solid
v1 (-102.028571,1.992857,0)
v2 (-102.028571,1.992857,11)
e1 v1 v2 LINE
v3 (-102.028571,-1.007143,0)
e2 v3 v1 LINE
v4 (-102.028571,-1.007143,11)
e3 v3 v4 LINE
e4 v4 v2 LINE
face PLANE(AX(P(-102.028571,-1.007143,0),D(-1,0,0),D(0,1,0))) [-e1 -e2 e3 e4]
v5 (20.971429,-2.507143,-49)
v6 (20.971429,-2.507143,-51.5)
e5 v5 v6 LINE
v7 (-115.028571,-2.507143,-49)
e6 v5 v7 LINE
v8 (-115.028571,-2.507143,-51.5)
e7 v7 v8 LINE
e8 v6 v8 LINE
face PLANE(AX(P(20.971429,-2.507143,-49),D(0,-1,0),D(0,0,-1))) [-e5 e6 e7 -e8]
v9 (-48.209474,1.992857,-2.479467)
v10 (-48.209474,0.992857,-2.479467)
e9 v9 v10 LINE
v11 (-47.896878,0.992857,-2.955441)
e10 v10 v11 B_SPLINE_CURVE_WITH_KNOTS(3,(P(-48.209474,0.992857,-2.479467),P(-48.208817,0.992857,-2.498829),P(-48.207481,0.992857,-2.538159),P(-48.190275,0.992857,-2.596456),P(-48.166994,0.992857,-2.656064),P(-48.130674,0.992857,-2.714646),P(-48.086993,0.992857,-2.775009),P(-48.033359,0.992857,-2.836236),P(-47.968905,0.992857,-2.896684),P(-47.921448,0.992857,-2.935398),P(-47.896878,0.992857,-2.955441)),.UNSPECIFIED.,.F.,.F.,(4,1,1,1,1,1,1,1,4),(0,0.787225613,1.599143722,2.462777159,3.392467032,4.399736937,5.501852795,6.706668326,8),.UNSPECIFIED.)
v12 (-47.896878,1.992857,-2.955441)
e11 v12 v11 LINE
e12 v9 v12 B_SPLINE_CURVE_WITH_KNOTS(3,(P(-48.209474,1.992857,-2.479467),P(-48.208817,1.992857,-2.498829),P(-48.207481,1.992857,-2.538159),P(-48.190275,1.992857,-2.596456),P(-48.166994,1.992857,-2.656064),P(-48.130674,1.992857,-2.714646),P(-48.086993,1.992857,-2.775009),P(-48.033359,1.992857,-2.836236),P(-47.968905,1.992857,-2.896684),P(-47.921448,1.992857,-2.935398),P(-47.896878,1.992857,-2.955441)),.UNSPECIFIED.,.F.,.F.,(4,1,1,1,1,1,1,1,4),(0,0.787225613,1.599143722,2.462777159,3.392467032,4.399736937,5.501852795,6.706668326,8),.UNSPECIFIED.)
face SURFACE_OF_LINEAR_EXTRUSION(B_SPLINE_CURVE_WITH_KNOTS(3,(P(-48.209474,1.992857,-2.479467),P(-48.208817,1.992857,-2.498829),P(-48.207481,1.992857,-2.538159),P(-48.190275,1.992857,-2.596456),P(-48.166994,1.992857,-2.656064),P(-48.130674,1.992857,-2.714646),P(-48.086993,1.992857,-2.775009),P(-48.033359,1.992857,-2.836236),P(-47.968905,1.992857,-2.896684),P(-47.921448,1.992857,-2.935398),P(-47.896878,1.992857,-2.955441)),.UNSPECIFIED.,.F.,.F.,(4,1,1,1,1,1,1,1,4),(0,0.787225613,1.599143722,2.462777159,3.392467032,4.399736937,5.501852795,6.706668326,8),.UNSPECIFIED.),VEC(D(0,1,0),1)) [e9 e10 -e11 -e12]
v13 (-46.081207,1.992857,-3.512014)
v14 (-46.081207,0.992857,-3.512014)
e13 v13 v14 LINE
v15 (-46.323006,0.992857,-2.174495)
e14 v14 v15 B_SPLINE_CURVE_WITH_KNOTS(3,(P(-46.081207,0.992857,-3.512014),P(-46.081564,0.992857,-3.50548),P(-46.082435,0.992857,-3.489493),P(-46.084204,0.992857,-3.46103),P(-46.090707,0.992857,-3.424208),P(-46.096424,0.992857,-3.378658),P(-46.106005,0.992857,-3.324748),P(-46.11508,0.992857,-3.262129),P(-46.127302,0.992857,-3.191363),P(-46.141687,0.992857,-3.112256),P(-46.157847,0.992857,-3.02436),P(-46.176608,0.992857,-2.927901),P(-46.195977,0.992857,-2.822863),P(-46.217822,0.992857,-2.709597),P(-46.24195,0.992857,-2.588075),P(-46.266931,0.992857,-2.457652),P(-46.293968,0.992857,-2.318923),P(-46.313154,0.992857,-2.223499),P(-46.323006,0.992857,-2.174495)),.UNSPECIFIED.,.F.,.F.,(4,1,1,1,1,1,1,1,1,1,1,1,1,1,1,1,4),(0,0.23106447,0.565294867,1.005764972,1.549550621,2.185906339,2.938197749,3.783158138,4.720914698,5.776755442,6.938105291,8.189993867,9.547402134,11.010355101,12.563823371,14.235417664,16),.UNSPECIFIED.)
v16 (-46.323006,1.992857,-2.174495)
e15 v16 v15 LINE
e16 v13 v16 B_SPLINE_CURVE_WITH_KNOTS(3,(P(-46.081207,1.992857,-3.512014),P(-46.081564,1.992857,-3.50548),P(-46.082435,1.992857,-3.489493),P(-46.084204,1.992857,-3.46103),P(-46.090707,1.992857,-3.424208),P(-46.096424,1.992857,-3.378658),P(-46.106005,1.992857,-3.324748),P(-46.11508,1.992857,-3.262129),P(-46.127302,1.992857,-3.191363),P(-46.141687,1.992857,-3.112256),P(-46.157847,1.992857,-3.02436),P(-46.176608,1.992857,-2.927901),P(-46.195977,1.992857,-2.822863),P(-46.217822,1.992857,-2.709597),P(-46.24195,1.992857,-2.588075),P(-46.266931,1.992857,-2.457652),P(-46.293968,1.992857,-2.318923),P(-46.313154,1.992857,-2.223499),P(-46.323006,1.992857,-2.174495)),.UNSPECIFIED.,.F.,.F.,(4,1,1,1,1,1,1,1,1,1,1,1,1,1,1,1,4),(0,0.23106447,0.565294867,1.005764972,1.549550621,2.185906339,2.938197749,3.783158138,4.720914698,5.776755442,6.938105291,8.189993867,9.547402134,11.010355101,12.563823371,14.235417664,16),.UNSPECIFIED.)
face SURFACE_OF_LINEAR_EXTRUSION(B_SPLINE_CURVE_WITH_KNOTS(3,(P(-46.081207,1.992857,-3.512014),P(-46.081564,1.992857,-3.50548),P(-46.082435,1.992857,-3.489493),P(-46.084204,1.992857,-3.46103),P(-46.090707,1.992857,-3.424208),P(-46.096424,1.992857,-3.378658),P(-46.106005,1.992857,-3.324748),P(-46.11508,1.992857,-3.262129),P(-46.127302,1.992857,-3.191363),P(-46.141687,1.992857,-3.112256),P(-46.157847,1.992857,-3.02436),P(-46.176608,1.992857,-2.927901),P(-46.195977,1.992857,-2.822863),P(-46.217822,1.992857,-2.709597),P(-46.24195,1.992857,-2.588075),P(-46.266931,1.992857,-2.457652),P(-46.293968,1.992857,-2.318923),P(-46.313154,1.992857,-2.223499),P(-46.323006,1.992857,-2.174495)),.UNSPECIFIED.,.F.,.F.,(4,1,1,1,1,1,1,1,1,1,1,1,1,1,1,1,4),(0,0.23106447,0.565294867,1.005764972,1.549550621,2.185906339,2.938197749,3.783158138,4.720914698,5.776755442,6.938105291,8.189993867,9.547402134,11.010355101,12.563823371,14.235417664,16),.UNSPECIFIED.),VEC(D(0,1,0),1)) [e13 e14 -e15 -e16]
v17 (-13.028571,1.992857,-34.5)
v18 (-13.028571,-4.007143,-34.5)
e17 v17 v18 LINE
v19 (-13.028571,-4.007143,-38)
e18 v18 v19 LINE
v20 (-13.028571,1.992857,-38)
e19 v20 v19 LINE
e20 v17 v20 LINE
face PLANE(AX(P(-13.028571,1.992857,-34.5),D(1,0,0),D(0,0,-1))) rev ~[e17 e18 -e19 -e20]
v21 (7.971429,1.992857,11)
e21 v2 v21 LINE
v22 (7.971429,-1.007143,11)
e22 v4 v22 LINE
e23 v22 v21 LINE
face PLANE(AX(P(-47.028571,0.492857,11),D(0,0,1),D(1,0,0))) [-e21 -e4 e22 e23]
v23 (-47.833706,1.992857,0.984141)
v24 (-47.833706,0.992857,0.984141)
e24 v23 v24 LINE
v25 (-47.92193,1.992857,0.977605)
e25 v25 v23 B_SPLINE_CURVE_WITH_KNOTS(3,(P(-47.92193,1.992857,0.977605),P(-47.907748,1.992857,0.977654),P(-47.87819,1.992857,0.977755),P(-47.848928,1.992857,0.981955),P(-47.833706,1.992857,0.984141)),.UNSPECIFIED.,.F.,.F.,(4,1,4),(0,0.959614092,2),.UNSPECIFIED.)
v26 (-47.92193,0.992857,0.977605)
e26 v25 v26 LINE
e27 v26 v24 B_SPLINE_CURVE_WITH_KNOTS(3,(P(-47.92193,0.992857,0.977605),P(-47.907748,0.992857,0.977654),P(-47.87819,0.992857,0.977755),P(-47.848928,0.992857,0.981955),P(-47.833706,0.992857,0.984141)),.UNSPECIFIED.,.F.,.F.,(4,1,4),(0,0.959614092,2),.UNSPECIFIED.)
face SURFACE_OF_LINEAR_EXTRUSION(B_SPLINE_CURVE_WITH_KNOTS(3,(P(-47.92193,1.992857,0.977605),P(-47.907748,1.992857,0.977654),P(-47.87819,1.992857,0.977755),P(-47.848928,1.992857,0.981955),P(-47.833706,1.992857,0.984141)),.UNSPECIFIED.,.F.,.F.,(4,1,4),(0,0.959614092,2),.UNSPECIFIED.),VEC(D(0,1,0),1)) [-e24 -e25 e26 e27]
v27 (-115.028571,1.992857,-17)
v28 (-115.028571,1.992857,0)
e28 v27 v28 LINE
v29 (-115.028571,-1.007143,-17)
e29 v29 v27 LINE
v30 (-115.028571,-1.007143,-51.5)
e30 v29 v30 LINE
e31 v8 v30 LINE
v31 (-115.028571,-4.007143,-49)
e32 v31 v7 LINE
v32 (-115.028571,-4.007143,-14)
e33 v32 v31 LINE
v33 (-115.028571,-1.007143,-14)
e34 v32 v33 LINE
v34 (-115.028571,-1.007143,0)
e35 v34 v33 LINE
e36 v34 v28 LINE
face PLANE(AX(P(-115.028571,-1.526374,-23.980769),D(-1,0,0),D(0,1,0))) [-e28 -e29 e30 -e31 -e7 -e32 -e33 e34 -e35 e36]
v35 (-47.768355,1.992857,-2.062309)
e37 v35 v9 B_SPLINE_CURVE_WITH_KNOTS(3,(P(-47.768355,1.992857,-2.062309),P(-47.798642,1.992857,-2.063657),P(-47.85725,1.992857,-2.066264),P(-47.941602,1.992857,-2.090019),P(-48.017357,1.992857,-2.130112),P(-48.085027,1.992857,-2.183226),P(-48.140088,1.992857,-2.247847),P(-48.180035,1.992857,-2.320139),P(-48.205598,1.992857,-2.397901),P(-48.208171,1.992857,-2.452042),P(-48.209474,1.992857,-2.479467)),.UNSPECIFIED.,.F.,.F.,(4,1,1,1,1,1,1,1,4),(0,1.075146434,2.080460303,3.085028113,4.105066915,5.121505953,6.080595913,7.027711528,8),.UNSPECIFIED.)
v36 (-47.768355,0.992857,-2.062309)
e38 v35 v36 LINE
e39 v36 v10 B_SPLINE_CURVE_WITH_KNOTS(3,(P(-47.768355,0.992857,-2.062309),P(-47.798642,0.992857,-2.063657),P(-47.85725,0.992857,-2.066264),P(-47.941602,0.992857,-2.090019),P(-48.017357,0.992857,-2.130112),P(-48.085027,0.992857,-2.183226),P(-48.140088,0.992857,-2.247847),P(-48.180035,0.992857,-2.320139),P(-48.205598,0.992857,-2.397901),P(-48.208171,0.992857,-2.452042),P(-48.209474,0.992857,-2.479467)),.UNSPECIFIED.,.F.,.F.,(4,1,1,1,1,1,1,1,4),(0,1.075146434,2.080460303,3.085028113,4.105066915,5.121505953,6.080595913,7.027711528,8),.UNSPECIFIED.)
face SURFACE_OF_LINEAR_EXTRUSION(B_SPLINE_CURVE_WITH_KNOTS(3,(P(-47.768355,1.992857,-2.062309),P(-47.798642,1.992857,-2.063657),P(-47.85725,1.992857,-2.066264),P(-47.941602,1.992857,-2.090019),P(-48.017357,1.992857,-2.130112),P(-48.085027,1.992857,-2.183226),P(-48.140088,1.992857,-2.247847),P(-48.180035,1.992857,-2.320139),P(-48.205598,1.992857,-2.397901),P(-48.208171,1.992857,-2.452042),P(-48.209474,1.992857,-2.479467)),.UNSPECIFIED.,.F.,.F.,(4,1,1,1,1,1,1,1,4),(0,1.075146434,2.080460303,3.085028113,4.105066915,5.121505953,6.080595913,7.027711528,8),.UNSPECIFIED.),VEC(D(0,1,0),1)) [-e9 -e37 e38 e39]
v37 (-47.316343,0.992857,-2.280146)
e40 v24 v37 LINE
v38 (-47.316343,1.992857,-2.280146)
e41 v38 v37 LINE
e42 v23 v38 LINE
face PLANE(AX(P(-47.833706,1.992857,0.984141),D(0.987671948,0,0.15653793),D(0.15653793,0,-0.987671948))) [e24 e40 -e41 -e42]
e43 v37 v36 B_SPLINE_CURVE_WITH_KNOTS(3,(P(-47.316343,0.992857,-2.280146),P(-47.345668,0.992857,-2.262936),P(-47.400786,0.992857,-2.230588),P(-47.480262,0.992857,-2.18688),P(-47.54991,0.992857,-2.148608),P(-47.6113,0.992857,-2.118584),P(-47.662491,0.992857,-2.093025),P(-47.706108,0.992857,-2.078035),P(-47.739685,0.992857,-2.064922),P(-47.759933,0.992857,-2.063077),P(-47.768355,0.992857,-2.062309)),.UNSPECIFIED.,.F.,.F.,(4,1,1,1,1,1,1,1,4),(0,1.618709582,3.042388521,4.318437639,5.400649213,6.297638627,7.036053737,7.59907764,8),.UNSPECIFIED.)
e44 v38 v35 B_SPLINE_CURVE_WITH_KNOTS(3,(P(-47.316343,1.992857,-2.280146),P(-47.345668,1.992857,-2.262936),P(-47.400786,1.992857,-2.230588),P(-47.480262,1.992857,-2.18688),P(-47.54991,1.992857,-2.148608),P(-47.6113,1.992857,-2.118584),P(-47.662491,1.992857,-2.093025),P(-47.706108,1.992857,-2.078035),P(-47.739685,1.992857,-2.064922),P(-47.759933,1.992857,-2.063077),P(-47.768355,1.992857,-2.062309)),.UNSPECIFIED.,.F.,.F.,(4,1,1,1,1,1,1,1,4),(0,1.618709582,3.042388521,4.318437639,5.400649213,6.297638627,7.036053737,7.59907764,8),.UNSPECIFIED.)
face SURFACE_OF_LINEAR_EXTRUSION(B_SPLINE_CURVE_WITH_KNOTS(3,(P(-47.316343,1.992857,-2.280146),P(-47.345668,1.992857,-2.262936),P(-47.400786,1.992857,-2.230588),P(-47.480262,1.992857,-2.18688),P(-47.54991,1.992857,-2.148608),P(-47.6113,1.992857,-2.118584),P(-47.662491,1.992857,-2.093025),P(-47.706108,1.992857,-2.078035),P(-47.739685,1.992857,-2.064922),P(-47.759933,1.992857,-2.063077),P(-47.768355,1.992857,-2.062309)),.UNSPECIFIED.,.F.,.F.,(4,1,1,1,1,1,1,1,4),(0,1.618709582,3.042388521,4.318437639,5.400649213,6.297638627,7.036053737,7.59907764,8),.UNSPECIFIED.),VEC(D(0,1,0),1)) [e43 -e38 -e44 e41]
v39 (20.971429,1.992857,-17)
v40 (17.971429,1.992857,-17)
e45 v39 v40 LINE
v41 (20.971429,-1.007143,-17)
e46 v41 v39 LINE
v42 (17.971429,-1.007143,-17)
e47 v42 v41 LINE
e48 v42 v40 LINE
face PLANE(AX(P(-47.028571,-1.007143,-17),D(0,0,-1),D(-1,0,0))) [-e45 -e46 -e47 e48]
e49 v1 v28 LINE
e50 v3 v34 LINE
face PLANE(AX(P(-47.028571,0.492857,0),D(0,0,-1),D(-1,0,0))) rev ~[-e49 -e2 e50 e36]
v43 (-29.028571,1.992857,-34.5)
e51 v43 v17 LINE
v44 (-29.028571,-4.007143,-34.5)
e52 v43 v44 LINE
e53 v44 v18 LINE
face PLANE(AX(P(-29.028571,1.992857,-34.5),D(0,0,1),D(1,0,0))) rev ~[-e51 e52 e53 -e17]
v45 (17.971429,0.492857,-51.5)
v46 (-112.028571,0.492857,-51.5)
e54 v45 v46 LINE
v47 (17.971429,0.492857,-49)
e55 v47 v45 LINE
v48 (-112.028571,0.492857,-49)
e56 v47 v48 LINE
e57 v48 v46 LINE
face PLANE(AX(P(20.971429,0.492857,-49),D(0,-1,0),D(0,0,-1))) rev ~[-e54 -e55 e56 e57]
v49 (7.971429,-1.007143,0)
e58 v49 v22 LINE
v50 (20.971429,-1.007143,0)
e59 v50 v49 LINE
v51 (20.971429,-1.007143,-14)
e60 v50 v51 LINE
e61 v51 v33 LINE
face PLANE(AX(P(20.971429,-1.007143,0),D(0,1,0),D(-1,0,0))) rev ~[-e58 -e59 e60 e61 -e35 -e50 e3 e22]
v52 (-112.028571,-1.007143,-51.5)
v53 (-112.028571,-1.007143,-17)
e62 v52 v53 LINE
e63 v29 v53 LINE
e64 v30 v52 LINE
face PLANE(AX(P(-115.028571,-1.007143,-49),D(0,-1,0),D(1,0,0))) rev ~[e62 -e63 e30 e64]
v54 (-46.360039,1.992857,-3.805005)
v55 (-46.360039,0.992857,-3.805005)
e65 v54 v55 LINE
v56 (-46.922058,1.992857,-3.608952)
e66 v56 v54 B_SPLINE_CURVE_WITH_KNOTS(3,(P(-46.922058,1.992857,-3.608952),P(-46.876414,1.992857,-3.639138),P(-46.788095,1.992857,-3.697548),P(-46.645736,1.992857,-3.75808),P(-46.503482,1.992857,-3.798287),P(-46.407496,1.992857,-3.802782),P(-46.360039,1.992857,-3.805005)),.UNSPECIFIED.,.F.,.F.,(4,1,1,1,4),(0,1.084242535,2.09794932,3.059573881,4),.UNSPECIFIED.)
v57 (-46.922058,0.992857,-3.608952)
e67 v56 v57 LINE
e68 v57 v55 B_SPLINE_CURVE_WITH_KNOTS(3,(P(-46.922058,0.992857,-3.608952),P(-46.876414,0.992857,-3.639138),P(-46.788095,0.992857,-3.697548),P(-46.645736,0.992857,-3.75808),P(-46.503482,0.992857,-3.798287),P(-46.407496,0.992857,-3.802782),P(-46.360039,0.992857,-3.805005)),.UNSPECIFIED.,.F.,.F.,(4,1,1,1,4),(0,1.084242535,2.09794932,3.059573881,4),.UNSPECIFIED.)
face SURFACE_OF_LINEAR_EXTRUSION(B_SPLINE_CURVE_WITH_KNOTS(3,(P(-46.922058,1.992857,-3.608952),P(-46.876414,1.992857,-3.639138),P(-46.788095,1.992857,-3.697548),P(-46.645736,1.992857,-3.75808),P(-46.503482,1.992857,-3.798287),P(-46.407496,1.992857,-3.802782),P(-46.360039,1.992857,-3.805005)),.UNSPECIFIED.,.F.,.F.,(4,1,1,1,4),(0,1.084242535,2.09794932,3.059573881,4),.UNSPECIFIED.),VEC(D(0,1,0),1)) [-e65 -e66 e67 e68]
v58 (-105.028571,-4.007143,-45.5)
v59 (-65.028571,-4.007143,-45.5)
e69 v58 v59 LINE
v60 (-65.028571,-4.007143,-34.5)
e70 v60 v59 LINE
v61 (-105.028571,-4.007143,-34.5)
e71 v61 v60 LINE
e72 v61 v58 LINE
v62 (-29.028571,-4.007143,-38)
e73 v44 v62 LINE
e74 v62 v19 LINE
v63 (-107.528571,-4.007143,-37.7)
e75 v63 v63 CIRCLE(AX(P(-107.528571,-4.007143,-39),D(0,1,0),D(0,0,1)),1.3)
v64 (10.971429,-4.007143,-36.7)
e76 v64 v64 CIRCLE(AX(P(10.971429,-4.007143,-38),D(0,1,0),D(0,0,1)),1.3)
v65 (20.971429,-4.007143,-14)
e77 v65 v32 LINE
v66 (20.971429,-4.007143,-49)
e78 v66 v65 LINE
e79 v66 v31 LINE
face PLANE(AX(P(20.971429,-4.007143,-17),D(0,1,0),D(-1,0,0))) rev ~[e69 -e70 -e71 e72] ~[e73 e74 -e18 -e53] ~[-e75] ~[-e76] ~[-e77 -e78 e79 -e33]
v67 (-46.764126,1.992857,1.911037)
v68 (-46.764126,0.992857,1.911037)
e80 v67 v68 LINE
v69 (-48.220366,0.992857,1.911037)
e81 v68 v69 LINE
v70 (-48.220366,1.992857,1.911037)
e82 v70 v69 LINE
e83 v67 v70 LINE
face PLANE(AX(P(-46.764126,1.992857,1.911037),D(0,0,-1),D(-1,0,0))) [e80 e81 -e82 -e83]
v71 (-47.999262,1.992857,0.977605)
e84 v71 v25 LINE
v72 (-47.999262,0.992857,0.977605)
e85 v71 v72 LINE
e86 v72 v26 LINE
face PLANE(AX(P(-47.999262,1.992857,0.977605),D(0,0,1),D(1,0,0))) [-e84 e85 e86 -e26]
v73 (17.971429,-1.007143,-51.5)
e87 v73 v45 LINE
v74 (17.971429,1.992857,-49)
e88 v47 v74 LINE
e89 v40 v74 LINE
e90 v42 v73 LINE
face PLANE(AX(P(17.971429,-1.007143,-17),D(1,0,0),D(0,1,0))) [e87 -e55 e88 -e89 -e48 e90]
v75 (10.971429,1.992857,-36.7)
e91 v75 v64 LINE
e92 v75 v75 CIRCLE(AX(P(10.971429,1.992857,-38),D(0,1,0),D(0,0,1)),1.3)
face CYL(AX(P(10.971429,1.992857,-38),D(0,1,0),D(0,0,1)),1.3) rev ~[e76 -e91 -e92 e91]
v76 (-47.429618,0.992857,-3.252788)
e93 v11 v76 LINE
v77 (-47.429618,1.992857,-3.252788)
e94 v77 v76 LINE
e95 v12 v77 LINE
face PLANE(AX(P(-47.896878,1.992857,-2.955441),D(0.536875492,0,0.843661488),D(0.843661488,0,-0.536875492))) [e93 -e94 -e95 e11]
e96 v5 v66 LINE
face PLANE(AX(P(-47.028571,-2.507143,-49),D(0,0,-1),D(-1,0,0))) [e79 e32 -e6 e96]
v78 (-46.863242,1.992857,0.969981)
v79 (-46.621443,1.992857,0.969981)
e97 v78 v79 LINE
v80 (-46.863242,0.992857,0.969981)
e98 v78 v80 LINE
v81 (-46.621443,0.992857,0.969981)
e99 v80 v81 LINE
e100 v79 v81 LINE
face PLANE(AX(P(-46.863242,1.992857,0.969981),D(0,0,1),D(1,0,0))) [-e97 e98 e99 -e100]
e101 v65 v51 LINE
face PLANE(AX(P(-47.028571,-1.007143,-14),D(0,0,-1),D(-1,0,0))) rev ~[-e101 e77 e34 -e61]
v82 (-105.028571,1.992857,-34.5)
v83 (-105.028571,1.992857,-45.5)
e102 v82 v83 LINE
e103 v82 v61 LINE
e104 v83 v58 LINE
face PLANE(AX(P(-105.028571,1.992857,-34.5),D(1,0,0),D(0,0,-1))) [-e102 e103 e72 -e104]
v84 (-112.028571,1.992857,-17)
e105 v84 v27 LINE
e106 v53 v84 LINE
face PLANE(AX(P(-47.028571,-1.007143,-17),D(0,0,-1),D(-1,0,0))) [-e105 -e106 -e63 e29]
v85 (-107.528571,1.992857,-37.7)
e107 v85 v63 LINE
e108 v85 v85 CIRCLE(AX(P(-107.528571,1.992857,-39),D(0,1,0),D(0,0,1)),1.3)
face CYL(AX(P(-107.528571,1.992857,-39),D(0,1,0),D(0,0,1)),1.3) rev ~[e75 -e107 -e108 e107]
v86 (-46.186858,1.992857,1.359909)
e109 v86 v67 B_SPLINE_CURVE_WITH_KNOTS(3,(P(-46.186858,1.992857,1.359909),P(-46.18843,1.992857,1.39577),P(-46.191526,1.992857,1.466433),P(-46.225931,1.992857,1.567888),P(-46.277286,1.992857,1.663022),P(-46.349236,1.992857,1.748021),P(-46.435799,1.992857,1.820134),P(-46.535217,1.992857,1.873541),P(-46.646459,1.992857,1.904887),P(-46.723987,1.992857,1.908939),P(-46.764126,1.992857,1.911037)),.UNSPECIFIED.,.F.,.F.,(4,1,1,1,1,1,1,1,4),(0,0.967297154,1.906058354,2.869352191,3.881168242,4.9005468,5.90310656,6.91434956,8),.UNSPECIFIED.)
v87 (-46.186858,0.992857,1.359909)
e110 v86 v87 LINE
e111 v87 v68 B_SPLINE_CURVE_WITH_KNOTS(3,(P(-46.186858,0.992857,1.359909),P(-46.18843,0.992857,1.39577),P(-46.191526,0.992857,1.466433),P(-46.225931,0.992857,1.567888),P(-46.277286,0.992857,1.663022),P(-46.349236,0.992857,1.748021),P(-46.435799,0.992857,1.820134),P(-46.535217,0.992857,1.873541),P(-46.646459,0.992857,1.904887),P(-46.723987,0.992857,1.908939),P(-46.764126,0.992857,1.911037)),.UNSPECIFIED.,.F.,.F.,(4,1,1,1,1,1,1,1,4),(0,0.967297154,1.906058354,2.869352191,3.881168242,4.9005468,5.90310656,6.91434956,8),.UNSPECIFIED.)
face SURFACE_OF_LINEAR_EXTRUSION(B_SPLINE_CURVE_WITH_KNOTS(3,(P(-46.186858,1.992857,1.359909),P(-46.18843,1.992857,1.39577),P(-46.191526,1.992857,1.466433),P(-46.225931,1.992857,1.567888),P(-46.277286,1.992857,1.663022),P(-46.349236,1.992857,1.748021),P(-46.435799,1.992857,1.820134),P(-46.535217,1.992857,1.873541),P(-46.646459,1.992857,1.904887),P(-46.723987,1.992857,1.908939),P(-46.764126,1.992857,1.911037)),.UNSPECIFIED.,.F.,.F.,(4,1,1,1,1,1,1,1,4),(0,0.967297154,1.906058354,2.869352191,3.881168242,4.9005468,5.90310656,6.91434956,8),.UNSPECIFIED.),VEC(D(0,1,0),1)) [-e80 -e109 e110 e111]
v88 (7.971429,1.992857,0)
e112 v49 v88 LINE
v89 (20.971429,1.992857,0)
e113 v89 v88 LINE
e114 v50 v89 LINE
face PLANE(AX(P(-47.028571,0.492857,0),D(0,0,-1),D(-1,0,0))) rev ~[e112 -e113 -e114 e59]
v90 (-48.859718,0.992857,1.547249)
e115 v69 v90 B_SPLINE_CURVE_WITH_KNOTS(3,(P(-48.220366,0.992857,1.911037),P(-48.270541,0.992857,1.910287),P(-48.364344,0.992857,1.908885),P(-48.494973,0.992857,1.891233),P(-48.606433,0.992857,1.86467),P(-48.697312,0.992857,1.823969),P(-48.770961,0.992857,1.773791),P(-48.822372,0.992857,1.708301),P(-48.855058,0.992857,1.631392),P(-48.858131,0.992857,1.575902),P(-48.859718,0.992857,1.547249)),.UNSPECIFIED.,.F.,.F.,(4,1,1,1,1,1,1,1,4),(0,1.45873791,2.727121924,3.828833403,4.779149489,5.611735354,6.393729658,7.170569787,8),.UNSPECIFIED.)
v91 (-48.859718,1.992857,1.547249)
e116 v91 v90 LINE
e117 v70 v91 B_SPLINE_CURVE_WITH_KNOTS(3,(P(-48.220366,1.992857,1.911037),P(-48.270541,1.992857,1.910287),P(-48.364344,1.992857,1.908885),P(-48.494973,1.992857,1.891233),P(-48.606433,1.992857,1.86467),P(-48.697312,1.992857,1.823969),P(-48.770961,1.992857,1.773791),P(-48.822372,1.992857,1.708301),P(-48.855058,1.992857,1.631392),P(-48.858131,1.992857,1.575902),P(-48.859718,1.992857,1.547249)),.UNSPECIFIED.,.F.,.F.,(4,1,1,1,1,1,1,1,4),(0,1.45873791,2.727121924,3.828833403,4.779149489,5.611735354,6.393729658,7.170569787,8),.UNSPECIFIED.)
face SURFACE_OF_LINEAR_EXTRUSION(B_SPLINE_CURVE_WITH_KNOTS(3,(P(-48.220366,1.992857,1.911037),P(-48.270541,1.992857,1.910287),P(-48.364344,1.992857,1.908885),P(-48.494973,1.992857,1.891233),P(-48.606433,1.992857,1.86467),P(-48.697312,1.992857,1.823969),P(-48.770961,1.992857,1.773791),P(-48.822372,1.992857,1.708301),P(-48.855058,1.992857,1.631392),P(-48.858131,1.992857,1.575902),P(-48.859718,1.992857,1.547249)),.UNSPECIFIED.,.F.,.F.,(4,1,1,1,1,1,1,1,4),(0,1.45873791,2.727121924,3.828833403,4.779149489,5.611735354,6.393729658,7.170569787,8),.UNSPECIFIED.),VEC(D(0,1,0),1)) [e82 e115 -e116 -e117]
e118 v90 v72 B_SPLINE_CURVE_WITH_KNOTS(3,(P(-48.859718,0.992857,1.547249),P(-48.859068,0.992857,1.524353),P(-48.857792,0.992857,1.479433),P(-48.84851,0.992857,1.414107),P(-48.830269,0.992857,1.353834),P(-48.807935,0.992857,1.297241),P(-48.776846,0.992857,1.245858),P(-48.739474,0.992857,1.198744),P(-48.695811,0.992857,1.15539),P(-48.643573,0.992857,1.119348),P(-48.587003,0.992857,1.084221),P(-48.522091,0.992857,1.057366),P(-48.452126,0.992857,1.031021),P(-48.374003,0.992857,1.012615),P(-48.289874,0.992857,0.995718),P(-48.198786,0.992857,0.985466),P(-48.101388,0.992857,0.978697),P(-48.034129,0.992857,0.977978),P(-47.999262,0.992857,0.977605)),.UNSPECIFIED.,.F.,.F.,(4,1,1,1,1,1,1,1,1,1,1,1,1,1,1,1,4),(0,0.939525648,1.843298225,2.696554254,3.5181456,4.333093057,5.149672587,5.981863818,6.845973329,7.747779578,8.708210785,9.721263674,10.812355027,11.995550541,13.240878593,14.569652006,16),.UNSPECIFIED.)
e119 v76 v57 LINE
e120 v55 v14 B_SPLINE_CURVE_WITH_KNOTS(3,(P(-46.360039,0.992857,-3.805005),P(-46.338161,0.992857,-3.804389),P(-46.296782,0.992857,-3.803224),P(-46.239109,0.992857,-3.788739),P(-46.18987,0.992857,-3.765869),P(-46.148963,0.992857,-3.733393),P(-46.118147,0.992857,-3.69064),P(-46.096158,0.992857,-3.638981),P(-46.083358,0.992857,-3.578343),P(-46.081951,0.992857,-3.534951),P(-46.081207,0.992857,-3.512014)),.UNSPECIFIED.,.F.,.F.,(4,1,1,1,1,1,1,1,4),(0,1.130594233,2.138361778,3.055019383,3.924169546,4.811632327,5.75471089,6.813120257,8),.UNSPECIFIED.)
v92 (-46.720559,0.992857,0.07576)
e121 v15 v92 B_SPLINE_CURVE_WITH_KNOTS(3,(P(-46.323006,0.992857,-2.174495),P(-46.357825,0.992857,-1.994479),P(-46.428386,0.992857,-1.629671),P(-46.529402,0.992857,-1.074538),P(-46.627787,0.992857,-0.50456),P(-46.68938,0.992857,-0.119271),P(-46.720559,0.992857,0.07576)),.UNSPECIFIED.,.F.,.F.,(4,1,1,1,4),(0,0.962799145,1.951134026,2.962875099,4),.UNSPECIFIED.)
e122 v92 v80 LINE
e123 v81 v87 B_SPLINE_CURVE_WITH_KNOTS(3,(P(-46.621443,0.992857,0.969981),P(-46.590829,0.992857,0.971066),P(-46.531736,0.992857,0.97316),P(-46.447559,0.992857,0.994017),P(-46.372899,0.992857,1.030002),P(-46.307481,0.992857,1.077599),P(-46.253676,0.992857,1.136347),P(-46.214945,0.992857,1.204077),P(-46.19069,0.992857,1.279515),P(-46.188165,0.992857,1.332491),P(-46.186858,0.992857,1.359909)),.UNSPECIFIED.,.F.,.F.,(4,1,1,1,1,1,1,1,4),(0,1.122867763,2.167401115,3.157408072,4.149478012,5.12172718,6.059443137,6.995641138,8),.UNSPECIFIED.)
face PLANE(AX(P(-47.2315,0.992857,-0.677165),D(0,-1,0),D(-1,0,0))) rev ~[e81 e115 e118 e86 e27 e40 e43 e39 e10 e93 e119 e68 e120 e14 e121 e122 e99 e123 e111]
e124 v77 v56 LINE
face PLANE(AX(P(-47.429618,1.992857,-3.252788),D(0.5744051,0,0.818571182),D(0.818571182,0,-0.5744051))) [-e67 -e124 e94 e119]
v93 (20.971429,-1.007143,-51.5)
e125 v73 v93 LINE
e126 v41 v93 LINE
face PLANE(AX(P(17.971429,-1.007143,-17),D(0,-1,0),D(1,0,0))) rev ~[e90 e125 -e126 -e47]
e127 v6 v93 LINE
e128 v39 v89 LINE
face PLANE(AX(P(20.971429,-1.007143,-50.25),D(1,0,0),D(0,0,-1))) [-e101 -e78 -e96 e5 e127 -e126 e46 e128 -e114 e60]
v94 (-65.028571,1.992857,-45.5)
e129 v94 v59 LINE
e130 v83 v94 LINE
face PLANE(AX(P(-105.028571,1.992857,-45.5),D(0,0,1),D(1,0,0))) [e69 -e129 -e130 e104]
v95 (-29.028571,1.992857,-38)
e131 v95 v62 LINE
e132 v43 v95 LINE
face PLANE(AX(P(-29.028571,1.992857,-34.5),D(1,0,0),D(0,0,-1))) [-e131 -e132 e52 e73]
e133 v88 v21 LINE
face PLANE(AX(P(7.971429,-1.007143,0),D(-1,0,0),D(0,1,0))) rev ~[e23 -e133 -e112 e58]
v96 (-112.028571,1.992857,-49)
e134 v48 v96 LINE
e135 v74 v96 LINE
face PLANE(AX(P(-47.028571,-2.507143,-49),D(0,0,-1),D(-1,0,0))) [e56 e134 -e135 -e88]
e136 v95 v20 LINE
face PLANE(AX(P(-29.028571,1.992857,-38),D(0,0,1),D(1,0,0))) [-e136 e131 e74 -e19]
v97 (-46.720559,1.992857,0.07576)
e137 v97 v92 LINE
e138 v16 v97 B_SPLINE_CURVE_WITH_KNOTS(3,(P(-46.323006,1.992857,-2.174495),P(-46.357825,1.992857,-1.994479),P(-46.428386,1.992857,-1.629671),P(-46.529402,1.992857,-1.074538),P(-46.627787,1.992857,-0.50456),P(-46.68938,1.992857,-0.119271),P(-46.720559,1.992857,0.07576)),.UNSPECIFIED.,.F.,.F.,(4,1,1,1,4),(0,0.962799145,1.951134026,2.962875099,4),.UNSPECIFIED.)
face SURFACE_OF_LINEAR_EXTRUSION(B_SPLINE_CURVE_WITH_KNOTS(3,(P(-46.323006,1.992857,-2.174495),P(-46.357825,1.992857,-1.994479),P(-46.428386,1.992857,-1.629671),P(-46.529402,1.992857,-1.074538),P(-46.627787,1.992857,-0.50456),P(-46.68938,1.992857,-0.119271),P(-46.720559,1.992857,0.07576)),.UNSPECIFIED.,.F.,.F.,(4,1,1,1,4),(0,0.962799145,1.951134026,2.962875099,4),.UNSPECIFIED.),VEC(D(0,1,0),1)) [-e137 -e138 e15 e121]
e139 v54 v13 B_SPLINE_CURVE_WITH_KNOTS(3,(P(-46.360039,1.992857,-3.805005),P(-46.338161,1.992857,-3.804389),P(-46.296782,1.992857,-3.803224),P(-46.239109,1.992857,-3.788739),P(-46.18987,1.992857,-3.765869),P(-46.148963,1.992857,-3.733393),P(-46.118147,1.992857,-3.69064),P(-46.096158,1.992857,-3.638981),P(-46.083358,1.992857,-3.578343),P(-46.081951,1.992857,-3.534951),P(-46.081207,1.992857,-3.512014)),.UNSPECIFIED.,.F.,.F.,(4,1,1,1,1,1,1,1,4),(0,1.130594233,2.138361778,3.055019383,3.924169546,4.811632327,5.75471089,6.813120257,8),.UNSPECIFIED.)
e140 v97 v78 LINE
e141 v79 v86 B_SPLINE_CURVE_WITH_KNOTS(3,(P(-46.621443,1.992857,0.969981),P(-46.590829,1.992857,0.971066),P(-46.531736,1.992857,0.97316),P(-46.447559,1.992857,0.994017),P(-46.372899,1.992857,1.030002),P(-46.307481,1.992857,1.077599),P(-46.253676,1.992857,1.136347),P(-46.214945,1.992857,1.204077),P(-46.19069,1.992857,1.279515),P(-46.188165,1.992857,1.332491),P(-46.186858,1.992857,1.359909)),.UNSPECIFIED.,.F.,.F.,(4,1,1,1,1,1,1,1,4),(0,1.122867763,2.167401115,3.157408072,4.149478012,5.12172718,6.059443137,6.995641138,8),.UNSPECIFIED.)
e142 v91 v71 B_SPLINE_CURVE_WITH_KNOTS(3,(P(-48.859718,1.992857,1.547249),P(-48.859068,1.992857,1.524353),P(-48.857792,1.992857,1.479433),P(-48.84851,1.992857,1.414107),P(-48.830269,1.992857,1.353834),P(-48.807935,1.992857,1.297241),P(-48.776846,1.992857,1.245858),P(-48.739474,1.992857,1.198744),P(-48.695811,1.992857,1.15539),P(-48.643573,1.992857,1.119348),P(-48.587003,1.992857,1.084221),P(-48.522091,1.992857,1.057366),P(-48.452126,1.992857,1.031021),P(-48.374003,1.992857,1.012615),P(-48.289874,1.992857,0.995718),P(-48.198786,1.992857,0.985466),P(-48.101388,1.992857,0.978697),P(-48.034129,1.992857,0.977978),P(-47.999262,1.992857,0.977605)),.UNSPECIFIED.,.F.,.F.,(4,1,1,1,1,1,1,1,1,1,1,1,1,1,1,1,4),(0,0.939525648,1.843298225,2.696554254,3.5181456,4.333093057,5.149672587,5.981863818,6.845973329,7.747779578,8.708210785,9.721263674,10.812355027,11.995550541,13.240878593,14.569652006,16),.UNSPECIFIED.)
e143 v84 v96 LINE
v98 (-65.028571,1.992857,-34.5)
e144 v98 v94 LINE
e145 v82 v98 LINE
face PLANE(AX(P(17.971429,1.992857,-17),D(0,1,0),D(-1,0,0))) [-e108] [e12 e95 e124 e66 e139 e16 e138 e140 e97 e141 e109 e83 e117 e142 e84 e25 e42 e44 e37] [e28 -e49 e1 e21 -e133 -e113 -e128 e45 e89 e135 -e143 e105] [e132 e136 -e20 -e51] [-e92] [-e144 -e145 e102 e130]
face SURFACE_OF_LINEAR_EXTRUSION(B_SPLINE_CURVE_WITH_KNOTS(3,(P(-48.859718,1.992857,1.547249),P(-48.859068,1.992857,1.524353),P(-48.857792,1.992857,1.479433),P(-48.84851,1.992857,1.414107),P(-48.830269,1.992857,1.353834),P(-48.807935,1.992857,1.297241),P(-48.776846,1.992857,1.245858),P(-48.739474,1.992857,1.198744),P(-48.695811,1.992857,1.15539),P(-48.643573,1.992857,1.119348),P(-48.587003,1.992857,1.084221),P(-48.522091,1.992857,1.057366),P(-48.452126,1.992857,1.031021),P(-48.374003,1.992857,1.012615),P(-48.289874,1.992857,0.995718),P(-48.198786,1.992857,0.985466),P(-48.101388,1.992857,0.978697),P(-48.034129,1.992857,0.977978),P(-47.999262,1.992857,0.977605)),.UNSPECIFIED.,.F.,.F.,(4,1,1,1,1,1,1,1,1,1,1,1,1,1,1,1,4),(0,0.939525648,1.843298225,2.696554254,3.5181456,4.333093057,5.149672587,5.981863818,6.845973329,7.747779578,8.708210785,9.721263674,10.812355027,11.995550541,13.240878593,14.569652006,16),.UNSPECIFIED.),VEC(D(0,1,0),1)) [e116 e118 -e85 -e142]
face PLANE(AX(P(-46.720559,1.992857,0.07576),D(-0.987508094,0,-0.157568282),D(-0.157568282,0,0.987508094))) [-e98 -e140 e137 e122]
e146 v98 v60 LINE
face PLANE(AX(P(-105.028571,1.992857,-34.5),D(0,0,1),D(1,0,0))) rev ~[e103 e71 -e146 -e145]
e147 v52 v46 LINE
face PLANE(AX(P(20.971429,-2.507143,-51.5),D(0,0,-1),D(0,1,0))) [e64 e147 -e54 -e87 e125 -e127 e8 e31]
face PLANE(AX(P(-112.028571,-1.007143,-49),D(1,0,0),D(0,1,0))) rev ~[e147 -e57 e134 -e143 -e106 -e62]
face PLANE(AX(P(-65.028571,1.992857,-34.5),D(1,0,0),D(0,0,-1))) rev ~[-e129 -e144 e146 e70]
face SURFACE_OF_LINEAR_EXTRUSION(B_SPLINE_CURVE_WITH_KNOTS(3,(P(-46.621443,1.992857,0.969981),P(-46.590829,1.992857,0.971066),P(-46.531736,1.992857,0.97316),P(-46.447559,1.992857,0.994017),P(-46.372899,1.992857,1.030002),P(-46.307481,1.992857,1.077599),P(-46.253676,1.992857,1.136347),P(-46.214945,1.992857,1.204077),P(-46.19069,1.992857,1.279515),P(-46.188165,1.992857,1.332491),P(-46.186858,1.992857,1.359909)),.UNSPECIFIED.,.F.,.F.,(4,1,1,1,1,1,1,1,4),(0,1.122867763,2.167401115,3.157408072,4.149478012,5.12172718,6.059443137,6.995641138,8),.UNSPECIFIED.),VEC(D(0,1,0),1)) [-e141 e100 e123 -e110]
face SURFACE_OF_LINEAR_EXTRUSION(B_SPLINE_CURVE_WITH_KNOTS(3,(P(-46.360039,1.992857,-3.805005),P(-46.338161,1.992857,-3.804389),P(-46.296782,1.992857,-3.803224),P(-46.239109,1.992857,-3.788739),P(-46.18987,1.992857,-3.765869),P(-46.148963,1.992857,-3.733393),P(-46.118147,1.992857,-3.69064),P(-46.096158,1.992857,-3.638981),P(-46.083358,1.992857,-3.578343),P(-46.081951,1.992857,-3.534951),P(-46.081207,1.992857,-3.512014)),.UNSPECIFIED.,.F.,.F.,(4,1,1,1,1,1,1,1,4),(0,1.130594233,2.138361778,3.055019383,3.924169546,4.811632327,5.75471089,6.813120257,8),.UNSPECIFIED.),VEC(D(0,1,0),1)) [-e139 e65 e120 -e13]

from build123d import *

# Parameters (mm, degrees)
SKETCH_1_W          = 110
SKETCH_1_H          = 3
EXTRUDE_1_DEPTH     = 11
SKETCH_2_W          = 136
SKETCH_2_H          = 3
EXTRUDE_2_DEPTH     = 14
SKETCH_3_W          = 136
SKETCH_3_H          = 6
EXTRUDE_3_DEPTH     = 3
SKETCH_4_W          = 130
SKETCH_4_H          = 3
EXTRUDE_4_DEPTH     = 32
CUT_EXTRUDE_1_DEPTH = 1
EXTRUDE_5_REACH     = 146.613
SKETCH_7_W          = 2.5
SKETCH_7_H          = 3
SKETCH_8_W          = 3
SKETCH_8_H          = 1.5
CUT_EXTRUDE_2_DEPTH = 2.5
SKETCH_9_W          = 3
SKETCH_9_H          = 1.5
CUT_EXTRUDE_3_DEPTH = 2.5
CUT_EXTRUDE_4_REACH = 128.174
SKETCH_10_R         = 1.3
SKETCH_11_W         = 40
SKETCH_11_H         = 11
SKETCH_11_W_2       = 16
SKETCH_11_H_2       = 3.5
CUT_EXTRUDE_5_DEPTH = 127.173778052


with BuildPart() as part:
    # 草圖1 → 填料-伸長1 (new body)
    with BuildSketch(Plane.XY):
        with Locations((-47.028571429, 0.492857143)):
            Rectangle(SKETCH_1_W, SKETCH_1_H)
    extrude(amount=EXTRUDE_1_DEPTH)

    # 草圖2 → 填料-伸長2 (add)
    with BuildSketch(Plane(origin=(0, 0, 0), x_dir=(-1, 0, 0), z_dir=(0, 0, -1))):
        with Locations((47.028571429, 0.492857143)):
            Rectangle(SKETCH_2_W, SKETCH_2_H)
    extrude(amount=EXTRUDE_2_DEPTH)

    # 草圖3 → 填料-伸長3 (add)
    with BuildSketch(Plane(origin=(0, 0, -14), x_dir=(-1, 0, 0), z_dir=(0, 0, -1))):
        with Locations((47.028571429, -1.007142857)):
            Rectangle(SKETCH_3_W, SKETCH_3_H)
    extrude(amount=EXTRUDE_3_DEPTH)

    # 草圖4 → 填料-伸長4 (add)
    with BuildSketch(Plane(origin=(0, 0, -17), x_dir=(-1, 0, 0), z_dir=(0, 0, -1))):
        Polygon((-20.971428571, -4.007142857), (115.028571429, -4.007142857), (115.028571429, -1.007142857), (112.028571429, -1.007142857), (-17.971428571, -1.007142857), (-20.971428571, -1.007142857), align=None)
        with Locations((47.028571429, 0.492857143)):
            Rectangle(SKETCH_4_W, SKETCH_4_H)
    extrude(amount=EXTRUDE_4_DEPTH)

    # 草圖5 → 除料-伸長1 (cut)
    with BuildSketch(Plane(origin=(0, 1.992857143, 0), x_dir=(1, 0, 0), z_dir=(0, 1, 0))):
        with BuildLine():
            add(Edge.make_bspline(
                [(-48.220366343, -1.911036809), (-48.270541407, -1.91028686), (-48.364344083, -1.908884824), (-48.494973246, -1.891233228), (-48.606432782, -1.864670281), (-48.697312182, -1.823968869), (-48.770960962, -1.773790726), (-48.822371595, -1.70830112), (-48.855058169, -1.631392184), (-48.858131064, -1.575902375), (-48.859717816, -1.547249089)],
                knots=[0, 0, 0, 0, 1.45873791, 2.727121924, 3.828833403, 4.779149489, 5.611735354, 6.393729658, 7.170569787, 8, 8, 8, 8], degree=3))
            add(Edge.make_bspline(
                [(-48.859717816, -1.547249089), (-48.859067643, -1.524353202), (-48.857792041, -1.479432717), (-48.848509693, -1.414107352), (-48.830269076, -1.353834434), (-48.807934617, -1.297240882), (-48.776845824, -1.245857786), (-48.73947396, -1.198744224), (-48.695811026, -1.155390258), (-48.643573446, -1.119347879), (-48.58700269, -1.084220527), (-48.522090534, -1.057366485), (-48.452126202, -1.031020798), (-48.374003189, -1.012615071), (-48.28987434, -0.995717942), (-48.198785859, -0.985465569), (-48.101387827, -0.978697318), (-48.034129185, -0.977978226), (-47.99926183, -0.977605443)],
                knots=[0, 0, 0, 0, 0.939525648, 1.843298225, 2.696554254, 3.5181456, 4.333093057, 5.149672587, 5.981863818, 6.845973329, 7.747779578, 8.708210785, 9.721263674, 10.812355027, 11.995550541, 13.240878593, 14.569652006, 16, 16, 16, 16], degree=3))
            Line((-47.99926183, -0.977605443), (-47.92192971, -0.977605443))
            add(Edge.make_bspline(
                [(-47.92192971, -0.977605443), (-47.907747598, -0.977653916), (-47.87818965, -0.977754942), (-47.848927636, -0.981955468), (-47.833705742, -0.984140552)],
                knots=[0, 0, 0, 0, 0.959614092, 2, 2, 2, 2], degree=3))
            Line((-47.833705742, -0.984140552), (-47.316342966, 2.280146269))
            add(Edge.make_bspline(
                [(-47.316342966, 2.280146269), (-47.345668471, 2.262935651), (-47.40078619, 2.230588039), (-47.480262355, 2.186880195), (-47.549909775, 2.148608363), (-47.611299516, 2.1185844), (-47.662490647, 2.093025466), (-47.706107648, 2.078035164), (-47.73968456, 2.064921848), (-47.759932978, 2.063076729), (-47.768354654, 2.062309311)],
                knots=[0, 0, 0, 0, 1.618709582, 3.042388521, 4.318437639, 5.400649213, 6.297638627, 7.036053737, 7.59907764, 8, 8, 8, 8], degree=3))
            add(Edge.make_bspline(
                [(-47.768354654, 2.062309311), (-47.798642133, 2.063656774), (-47.857249869, 2.06626418), (-47.941602172, 2.090018879), (-48.017357284, 2.13011156), (-48.08502679, 2.183226474), (-48.140088137, 2.247846893), (-48.180034599, 2.320139031), (-48.205597516, 2.397901123), (-48.208170919, 2.452041748), (-48.209474495, 2.479467086)],
                knots=[0, 0, 0, 0, 1.075146434, 2.080460303, 3.085028113, 4.105066915, 5.121505953, 6.080595913, 7.027711528, 8, 8, 8, 8], degree=3))
            add(Edge.make_bspline(
                [(-48.209474495, 2.479467086), (-48.208816812, 2.498828628), (-48.207480817, 2.538159014), (-48.190274999, 2.596456162), (-48.166994024, 2.656064112), (-48.13067359, 2.714646481), (-48.086993317, 2.775009305), (-48.033359047, 2.836236327), (-47.968905095, 2.896683711), (-47.921447851, 2.935397881), (-47.89687846, 2.95544084)],
                knots=[0, 0, 0, 0, 0.787225613, 1.599143722, 2.462777159, 3.392467032, 4.399736937, 5.501852795, 6.706668326, 8, 8, 8, 8], degree=3))
            Line((-47.89687846, 2.95544084), (-47.429618184, 3.252788288))
            Line((-47.429618184, 3.252788288), (-46.922058071, 3.608951715))
            add(Edge.make_bspline(
                [(-46.922058071, 3.608951715), (-46.876413832, 3.639138489), (-46.788094754, 3.697548226), (-46.645736231, 3.75807991), (-46.503481767, 3.798286546), (-46.407496481, 3.802782202), (-46.360038718, 3.805004978)],
                knots=[0, 0, 0, 0, 1.084242535, 2.09794932, 3.059573881, 4, 4, 4, 4], degree=3))
            add(Edge.make_bspline(
                [(-46.360038718, 3.805004978), (-46.3381608, 3.804388851), (-46.296781759, 3.803223532), (-46.239109283, 3.788739172), (-46.189869766, 3.765868881), (-46.148963408, 3.733393204), (-46.11814663, 3.690639657), (-46.096158463, 3.638981159), (-46.083357921, 3.578342667), (-46.08195108, 3.53495132), (-46.081207412, 3.512014269)],
                knots=[0, 0, 0, 0, 1.130594233, 2.138361778, 3.055019383, 3.924169546, 4.811632327, 5.75471089, 6.813120257, 8, 8, 8, 8], degree=3))
            add(Edge.make_bspline(
                [(-46.081207412, 3.512014269), (-46.08156363, 3.505479814), (-46.08243511, 3.489493395), (-46.084204273, 3.461029672), (-46.090707373, 3.424207889), (-46.09642404, 3.378657845), (-46.106005481, 3.324747731), (-46.115079801, 3.262129111), (-46.127301873, 3.191363134), (-46.14168701, 3.112256155), (-46.157847106, 3.024360372), (-46.176607518, 2.927900752), (-46.195977289, 2.822862657), (-46.217822392, 2.709597476), (-46.241950094, 2.588075039), (-46.266930873, 2.457651605), (-46.293968395, 2.318923362), (-46.313154025, 2.223498794), (-46.323006436, 2.174495345)],
                knots=[0, 0, 0, 0, 0.23106447, 0.565294867, 1.005764972, 1.549550621, 2.185906339, 2.938197749, 3.783158138, 4.720914698, 5.776755442, 6.938105291, 8.189993867, 9.547402134, 11.010355101, 12.563823371, 14.235417664, 16, 16, 16, 16], degree=3))
            add(Edge.make_bspline(
                [(-46.323006436, 2.174495345), (-46.357825146, 1.994478693), (-46.428386042, 1.629670918), (-46.529401683, 1.074537611), (-46.627786589, 0.504560358), (-46.68938042, 0.119270973), (-46.720558885, -0.075760435)],
                knots=[0, 0, 0, 0, 0.962799145, 1.951134026, 2.962875099, 4, 4, 4, 4], degree=3))
            Line((-46.720558885, -0.075760435), (-46.863242092, -0.969981149))
            Line((-46.863242092, -0.969981149), (-46.621443068, -0.969981149))
            add(Edge.make_bspline(
                [(-46.621443068, -0.969981149), (-46.590828719, -0.971065908), (-46.531735764, -0.97315975), (-46.447558792, -0.994017247), (-46.37289879, -1.030001679), (-46.307480713, -1.077598676), (-46.253676365, -1.136347365), (-46.214944889, -1.204076877), (-46.190689754, -1.279514507), (-46.188165035, -1.332490786), (-46.186858337, -1.359909305)],
                knots=[0, 0, 0, 0, 1.122867763, 2.167401115, 3.157408072, 4.149478012, 5.12172718, 6.059443137, 6.995641138, 8, 8, 8, 8], degree=3))
            add(Edge.make_bspline(
                [(-46.186858337, -1.359909305), (-46.188429675, -1.395769989), (-46.191525997, -1.466433442), (-46.225931374, -1.567887827), (-46.277285831, -1.663022499), (-46.349235784, -1.748021435), (-46.435799472, -1.820134294), (-46.535216898, -1.873541109), (-46.646458865, -1.904887272), (-46.72398679, -1.908939039), (-46.764126276, -1.911036809)],
                knots=[0, 0, 0, 0, 0.967297154, 1.906058354, 2.869352191, 3.881168242, 4.9005468, 5.90310656, 6.91434956, 8, 8, 8, 8], degree=3))
            Line((-46.764126276, -1.911036809), (-48.220366343, -1.911036809))
        make_face()
    extrude(amount=-CUT_EXTRUDE_1_DEPTH, mode=Mode.SUBTRACT)

    # 填料-伸長5: up to this face of the body (flat: up to its plane)
    extrude_5_end = Plane(part.part.faces().sort_by_distance((-115.028571429, -1.526373626, -23.980769231))[0])
    # 草圖7 → 填料-伸長5 (add, up to the picked face)
    with BuildSketch(Plane(origin=(20.971428571, 0, 0), x_dir=(0, 0, -1), z_dir=(1, 0, 0)), mode=Mode.PRIVATE) as extrude_5_sk1:
        with Locations((50.25, -1.007142857)):
            Rectangle(SKETCH_7_W, SKETCH_7_H)
    extrude_5_tool1 = split(extrude(extrude_5_sk1.sketch, amount=-EXTRUDE_5_REACH, mode=Mode.PRIVATE), bisect_by=extrude_5_end, keep=Keep.BOTH, mode=Mode.PRIVATE)
    add(extrude_5_tool1.solids().sort_by(Axis((20.971429, -1.007143, -50.25), (-1, 0, 0)))[0])

    # 草圖8 → 除料-伸長2 (cut)
    with BuildSketch(Plane.XY.offset(-49)):
        with Locations((-113.528571429, -0.257142857)):
            Rectangle(SKETCH_8_W, SKETCH_8_H)
    extrude(amount=-CUT_EXTRUDE_2_DEPTH, mode=Mode.SUBTRACT)

    # 草圖9 → 除料-伸長3 (cut)
    with BuildSketch(Plane.XY.offset(-49)):
        with Locations((19.471428571, -0.257142857)):
            Rectangle(SKETCH_9_W, SKETCH_9_H)
    extrude(amount=-CUT_EXTRUDE_3_DEPTH, mode=Mode.SUBTRACT)

    # 草圖10 → 除料-伸長4 (cut, up to next)
    with BuildSketch(Plane(origin=(0, 1.992857143, 0), x_dir=(1, 0, 0), z_dir=(0, 1, 0)), mode=Mode.PRIVATE) as cut_extrude_4_sk1:
        with Locations(Location((-107.528571429, 39, 0), (0, 0, 270))):
            Circle(SKETCH_10_R)
    cut_extrude_4_tool1 = extrude(cut_extrude_4_sk1.sketch, amount=-CUT_EXTRUDE_4_REACH, mode=Mode.PRIVATE) & part.part
    # 草圖10 → 除料-伸長4 (cut, up to next)
    with BuildSketch(Plane(origin=(0, 1.992857143, 0), x_dir=(1, 0, 0), z_dir=(0, 1, 0)), mode=Mode.PRIVATE) as cut_extrude_4_sk2:
        with Locations(Location((10.971428571, 38, 0), (0, 0, 270))):
            Circle(SKETCH_10_R)
    cut_extrude_4_tool2 = extrude(cut_extrude_4_sk2.sketch, amount=-CUT_EXTRUDE_4_REACH, mode=Mode.PRIVATE) & part.part
    add(cut_extrude_4_tool1.solids().sort_by_distance((-107.528571, 1.992857, -39))[0], mode=Mode.SUBTRACT)
    add(cut_extrude_4_tool2.solids().sort_by_distance((10.971429, 1.992857, -38))[0], mode=Mode.SUBTRACT)

    # 草圖11 → 除料-伸長5 (cut, through all)
    with BuildSketch(Plane(origin=(0, 1.992857143, 0), x_dir=(1, 0, 0), z_dir=(0, 1, 0))):
        with Locations((-85.028571429, 40)):
            Rectangle(SKETCH_11_W, SKETCH_11_H)
        with Locations((-21.028571429, 36.25)):
            Rectangle(SKETCH_11_W_2, SKETCH_11_H_2)
    extrude(amount=-CUT_EXTRUDE_5_DEPTH, mode=Mode.SUBTRACT)


solid = part.part
